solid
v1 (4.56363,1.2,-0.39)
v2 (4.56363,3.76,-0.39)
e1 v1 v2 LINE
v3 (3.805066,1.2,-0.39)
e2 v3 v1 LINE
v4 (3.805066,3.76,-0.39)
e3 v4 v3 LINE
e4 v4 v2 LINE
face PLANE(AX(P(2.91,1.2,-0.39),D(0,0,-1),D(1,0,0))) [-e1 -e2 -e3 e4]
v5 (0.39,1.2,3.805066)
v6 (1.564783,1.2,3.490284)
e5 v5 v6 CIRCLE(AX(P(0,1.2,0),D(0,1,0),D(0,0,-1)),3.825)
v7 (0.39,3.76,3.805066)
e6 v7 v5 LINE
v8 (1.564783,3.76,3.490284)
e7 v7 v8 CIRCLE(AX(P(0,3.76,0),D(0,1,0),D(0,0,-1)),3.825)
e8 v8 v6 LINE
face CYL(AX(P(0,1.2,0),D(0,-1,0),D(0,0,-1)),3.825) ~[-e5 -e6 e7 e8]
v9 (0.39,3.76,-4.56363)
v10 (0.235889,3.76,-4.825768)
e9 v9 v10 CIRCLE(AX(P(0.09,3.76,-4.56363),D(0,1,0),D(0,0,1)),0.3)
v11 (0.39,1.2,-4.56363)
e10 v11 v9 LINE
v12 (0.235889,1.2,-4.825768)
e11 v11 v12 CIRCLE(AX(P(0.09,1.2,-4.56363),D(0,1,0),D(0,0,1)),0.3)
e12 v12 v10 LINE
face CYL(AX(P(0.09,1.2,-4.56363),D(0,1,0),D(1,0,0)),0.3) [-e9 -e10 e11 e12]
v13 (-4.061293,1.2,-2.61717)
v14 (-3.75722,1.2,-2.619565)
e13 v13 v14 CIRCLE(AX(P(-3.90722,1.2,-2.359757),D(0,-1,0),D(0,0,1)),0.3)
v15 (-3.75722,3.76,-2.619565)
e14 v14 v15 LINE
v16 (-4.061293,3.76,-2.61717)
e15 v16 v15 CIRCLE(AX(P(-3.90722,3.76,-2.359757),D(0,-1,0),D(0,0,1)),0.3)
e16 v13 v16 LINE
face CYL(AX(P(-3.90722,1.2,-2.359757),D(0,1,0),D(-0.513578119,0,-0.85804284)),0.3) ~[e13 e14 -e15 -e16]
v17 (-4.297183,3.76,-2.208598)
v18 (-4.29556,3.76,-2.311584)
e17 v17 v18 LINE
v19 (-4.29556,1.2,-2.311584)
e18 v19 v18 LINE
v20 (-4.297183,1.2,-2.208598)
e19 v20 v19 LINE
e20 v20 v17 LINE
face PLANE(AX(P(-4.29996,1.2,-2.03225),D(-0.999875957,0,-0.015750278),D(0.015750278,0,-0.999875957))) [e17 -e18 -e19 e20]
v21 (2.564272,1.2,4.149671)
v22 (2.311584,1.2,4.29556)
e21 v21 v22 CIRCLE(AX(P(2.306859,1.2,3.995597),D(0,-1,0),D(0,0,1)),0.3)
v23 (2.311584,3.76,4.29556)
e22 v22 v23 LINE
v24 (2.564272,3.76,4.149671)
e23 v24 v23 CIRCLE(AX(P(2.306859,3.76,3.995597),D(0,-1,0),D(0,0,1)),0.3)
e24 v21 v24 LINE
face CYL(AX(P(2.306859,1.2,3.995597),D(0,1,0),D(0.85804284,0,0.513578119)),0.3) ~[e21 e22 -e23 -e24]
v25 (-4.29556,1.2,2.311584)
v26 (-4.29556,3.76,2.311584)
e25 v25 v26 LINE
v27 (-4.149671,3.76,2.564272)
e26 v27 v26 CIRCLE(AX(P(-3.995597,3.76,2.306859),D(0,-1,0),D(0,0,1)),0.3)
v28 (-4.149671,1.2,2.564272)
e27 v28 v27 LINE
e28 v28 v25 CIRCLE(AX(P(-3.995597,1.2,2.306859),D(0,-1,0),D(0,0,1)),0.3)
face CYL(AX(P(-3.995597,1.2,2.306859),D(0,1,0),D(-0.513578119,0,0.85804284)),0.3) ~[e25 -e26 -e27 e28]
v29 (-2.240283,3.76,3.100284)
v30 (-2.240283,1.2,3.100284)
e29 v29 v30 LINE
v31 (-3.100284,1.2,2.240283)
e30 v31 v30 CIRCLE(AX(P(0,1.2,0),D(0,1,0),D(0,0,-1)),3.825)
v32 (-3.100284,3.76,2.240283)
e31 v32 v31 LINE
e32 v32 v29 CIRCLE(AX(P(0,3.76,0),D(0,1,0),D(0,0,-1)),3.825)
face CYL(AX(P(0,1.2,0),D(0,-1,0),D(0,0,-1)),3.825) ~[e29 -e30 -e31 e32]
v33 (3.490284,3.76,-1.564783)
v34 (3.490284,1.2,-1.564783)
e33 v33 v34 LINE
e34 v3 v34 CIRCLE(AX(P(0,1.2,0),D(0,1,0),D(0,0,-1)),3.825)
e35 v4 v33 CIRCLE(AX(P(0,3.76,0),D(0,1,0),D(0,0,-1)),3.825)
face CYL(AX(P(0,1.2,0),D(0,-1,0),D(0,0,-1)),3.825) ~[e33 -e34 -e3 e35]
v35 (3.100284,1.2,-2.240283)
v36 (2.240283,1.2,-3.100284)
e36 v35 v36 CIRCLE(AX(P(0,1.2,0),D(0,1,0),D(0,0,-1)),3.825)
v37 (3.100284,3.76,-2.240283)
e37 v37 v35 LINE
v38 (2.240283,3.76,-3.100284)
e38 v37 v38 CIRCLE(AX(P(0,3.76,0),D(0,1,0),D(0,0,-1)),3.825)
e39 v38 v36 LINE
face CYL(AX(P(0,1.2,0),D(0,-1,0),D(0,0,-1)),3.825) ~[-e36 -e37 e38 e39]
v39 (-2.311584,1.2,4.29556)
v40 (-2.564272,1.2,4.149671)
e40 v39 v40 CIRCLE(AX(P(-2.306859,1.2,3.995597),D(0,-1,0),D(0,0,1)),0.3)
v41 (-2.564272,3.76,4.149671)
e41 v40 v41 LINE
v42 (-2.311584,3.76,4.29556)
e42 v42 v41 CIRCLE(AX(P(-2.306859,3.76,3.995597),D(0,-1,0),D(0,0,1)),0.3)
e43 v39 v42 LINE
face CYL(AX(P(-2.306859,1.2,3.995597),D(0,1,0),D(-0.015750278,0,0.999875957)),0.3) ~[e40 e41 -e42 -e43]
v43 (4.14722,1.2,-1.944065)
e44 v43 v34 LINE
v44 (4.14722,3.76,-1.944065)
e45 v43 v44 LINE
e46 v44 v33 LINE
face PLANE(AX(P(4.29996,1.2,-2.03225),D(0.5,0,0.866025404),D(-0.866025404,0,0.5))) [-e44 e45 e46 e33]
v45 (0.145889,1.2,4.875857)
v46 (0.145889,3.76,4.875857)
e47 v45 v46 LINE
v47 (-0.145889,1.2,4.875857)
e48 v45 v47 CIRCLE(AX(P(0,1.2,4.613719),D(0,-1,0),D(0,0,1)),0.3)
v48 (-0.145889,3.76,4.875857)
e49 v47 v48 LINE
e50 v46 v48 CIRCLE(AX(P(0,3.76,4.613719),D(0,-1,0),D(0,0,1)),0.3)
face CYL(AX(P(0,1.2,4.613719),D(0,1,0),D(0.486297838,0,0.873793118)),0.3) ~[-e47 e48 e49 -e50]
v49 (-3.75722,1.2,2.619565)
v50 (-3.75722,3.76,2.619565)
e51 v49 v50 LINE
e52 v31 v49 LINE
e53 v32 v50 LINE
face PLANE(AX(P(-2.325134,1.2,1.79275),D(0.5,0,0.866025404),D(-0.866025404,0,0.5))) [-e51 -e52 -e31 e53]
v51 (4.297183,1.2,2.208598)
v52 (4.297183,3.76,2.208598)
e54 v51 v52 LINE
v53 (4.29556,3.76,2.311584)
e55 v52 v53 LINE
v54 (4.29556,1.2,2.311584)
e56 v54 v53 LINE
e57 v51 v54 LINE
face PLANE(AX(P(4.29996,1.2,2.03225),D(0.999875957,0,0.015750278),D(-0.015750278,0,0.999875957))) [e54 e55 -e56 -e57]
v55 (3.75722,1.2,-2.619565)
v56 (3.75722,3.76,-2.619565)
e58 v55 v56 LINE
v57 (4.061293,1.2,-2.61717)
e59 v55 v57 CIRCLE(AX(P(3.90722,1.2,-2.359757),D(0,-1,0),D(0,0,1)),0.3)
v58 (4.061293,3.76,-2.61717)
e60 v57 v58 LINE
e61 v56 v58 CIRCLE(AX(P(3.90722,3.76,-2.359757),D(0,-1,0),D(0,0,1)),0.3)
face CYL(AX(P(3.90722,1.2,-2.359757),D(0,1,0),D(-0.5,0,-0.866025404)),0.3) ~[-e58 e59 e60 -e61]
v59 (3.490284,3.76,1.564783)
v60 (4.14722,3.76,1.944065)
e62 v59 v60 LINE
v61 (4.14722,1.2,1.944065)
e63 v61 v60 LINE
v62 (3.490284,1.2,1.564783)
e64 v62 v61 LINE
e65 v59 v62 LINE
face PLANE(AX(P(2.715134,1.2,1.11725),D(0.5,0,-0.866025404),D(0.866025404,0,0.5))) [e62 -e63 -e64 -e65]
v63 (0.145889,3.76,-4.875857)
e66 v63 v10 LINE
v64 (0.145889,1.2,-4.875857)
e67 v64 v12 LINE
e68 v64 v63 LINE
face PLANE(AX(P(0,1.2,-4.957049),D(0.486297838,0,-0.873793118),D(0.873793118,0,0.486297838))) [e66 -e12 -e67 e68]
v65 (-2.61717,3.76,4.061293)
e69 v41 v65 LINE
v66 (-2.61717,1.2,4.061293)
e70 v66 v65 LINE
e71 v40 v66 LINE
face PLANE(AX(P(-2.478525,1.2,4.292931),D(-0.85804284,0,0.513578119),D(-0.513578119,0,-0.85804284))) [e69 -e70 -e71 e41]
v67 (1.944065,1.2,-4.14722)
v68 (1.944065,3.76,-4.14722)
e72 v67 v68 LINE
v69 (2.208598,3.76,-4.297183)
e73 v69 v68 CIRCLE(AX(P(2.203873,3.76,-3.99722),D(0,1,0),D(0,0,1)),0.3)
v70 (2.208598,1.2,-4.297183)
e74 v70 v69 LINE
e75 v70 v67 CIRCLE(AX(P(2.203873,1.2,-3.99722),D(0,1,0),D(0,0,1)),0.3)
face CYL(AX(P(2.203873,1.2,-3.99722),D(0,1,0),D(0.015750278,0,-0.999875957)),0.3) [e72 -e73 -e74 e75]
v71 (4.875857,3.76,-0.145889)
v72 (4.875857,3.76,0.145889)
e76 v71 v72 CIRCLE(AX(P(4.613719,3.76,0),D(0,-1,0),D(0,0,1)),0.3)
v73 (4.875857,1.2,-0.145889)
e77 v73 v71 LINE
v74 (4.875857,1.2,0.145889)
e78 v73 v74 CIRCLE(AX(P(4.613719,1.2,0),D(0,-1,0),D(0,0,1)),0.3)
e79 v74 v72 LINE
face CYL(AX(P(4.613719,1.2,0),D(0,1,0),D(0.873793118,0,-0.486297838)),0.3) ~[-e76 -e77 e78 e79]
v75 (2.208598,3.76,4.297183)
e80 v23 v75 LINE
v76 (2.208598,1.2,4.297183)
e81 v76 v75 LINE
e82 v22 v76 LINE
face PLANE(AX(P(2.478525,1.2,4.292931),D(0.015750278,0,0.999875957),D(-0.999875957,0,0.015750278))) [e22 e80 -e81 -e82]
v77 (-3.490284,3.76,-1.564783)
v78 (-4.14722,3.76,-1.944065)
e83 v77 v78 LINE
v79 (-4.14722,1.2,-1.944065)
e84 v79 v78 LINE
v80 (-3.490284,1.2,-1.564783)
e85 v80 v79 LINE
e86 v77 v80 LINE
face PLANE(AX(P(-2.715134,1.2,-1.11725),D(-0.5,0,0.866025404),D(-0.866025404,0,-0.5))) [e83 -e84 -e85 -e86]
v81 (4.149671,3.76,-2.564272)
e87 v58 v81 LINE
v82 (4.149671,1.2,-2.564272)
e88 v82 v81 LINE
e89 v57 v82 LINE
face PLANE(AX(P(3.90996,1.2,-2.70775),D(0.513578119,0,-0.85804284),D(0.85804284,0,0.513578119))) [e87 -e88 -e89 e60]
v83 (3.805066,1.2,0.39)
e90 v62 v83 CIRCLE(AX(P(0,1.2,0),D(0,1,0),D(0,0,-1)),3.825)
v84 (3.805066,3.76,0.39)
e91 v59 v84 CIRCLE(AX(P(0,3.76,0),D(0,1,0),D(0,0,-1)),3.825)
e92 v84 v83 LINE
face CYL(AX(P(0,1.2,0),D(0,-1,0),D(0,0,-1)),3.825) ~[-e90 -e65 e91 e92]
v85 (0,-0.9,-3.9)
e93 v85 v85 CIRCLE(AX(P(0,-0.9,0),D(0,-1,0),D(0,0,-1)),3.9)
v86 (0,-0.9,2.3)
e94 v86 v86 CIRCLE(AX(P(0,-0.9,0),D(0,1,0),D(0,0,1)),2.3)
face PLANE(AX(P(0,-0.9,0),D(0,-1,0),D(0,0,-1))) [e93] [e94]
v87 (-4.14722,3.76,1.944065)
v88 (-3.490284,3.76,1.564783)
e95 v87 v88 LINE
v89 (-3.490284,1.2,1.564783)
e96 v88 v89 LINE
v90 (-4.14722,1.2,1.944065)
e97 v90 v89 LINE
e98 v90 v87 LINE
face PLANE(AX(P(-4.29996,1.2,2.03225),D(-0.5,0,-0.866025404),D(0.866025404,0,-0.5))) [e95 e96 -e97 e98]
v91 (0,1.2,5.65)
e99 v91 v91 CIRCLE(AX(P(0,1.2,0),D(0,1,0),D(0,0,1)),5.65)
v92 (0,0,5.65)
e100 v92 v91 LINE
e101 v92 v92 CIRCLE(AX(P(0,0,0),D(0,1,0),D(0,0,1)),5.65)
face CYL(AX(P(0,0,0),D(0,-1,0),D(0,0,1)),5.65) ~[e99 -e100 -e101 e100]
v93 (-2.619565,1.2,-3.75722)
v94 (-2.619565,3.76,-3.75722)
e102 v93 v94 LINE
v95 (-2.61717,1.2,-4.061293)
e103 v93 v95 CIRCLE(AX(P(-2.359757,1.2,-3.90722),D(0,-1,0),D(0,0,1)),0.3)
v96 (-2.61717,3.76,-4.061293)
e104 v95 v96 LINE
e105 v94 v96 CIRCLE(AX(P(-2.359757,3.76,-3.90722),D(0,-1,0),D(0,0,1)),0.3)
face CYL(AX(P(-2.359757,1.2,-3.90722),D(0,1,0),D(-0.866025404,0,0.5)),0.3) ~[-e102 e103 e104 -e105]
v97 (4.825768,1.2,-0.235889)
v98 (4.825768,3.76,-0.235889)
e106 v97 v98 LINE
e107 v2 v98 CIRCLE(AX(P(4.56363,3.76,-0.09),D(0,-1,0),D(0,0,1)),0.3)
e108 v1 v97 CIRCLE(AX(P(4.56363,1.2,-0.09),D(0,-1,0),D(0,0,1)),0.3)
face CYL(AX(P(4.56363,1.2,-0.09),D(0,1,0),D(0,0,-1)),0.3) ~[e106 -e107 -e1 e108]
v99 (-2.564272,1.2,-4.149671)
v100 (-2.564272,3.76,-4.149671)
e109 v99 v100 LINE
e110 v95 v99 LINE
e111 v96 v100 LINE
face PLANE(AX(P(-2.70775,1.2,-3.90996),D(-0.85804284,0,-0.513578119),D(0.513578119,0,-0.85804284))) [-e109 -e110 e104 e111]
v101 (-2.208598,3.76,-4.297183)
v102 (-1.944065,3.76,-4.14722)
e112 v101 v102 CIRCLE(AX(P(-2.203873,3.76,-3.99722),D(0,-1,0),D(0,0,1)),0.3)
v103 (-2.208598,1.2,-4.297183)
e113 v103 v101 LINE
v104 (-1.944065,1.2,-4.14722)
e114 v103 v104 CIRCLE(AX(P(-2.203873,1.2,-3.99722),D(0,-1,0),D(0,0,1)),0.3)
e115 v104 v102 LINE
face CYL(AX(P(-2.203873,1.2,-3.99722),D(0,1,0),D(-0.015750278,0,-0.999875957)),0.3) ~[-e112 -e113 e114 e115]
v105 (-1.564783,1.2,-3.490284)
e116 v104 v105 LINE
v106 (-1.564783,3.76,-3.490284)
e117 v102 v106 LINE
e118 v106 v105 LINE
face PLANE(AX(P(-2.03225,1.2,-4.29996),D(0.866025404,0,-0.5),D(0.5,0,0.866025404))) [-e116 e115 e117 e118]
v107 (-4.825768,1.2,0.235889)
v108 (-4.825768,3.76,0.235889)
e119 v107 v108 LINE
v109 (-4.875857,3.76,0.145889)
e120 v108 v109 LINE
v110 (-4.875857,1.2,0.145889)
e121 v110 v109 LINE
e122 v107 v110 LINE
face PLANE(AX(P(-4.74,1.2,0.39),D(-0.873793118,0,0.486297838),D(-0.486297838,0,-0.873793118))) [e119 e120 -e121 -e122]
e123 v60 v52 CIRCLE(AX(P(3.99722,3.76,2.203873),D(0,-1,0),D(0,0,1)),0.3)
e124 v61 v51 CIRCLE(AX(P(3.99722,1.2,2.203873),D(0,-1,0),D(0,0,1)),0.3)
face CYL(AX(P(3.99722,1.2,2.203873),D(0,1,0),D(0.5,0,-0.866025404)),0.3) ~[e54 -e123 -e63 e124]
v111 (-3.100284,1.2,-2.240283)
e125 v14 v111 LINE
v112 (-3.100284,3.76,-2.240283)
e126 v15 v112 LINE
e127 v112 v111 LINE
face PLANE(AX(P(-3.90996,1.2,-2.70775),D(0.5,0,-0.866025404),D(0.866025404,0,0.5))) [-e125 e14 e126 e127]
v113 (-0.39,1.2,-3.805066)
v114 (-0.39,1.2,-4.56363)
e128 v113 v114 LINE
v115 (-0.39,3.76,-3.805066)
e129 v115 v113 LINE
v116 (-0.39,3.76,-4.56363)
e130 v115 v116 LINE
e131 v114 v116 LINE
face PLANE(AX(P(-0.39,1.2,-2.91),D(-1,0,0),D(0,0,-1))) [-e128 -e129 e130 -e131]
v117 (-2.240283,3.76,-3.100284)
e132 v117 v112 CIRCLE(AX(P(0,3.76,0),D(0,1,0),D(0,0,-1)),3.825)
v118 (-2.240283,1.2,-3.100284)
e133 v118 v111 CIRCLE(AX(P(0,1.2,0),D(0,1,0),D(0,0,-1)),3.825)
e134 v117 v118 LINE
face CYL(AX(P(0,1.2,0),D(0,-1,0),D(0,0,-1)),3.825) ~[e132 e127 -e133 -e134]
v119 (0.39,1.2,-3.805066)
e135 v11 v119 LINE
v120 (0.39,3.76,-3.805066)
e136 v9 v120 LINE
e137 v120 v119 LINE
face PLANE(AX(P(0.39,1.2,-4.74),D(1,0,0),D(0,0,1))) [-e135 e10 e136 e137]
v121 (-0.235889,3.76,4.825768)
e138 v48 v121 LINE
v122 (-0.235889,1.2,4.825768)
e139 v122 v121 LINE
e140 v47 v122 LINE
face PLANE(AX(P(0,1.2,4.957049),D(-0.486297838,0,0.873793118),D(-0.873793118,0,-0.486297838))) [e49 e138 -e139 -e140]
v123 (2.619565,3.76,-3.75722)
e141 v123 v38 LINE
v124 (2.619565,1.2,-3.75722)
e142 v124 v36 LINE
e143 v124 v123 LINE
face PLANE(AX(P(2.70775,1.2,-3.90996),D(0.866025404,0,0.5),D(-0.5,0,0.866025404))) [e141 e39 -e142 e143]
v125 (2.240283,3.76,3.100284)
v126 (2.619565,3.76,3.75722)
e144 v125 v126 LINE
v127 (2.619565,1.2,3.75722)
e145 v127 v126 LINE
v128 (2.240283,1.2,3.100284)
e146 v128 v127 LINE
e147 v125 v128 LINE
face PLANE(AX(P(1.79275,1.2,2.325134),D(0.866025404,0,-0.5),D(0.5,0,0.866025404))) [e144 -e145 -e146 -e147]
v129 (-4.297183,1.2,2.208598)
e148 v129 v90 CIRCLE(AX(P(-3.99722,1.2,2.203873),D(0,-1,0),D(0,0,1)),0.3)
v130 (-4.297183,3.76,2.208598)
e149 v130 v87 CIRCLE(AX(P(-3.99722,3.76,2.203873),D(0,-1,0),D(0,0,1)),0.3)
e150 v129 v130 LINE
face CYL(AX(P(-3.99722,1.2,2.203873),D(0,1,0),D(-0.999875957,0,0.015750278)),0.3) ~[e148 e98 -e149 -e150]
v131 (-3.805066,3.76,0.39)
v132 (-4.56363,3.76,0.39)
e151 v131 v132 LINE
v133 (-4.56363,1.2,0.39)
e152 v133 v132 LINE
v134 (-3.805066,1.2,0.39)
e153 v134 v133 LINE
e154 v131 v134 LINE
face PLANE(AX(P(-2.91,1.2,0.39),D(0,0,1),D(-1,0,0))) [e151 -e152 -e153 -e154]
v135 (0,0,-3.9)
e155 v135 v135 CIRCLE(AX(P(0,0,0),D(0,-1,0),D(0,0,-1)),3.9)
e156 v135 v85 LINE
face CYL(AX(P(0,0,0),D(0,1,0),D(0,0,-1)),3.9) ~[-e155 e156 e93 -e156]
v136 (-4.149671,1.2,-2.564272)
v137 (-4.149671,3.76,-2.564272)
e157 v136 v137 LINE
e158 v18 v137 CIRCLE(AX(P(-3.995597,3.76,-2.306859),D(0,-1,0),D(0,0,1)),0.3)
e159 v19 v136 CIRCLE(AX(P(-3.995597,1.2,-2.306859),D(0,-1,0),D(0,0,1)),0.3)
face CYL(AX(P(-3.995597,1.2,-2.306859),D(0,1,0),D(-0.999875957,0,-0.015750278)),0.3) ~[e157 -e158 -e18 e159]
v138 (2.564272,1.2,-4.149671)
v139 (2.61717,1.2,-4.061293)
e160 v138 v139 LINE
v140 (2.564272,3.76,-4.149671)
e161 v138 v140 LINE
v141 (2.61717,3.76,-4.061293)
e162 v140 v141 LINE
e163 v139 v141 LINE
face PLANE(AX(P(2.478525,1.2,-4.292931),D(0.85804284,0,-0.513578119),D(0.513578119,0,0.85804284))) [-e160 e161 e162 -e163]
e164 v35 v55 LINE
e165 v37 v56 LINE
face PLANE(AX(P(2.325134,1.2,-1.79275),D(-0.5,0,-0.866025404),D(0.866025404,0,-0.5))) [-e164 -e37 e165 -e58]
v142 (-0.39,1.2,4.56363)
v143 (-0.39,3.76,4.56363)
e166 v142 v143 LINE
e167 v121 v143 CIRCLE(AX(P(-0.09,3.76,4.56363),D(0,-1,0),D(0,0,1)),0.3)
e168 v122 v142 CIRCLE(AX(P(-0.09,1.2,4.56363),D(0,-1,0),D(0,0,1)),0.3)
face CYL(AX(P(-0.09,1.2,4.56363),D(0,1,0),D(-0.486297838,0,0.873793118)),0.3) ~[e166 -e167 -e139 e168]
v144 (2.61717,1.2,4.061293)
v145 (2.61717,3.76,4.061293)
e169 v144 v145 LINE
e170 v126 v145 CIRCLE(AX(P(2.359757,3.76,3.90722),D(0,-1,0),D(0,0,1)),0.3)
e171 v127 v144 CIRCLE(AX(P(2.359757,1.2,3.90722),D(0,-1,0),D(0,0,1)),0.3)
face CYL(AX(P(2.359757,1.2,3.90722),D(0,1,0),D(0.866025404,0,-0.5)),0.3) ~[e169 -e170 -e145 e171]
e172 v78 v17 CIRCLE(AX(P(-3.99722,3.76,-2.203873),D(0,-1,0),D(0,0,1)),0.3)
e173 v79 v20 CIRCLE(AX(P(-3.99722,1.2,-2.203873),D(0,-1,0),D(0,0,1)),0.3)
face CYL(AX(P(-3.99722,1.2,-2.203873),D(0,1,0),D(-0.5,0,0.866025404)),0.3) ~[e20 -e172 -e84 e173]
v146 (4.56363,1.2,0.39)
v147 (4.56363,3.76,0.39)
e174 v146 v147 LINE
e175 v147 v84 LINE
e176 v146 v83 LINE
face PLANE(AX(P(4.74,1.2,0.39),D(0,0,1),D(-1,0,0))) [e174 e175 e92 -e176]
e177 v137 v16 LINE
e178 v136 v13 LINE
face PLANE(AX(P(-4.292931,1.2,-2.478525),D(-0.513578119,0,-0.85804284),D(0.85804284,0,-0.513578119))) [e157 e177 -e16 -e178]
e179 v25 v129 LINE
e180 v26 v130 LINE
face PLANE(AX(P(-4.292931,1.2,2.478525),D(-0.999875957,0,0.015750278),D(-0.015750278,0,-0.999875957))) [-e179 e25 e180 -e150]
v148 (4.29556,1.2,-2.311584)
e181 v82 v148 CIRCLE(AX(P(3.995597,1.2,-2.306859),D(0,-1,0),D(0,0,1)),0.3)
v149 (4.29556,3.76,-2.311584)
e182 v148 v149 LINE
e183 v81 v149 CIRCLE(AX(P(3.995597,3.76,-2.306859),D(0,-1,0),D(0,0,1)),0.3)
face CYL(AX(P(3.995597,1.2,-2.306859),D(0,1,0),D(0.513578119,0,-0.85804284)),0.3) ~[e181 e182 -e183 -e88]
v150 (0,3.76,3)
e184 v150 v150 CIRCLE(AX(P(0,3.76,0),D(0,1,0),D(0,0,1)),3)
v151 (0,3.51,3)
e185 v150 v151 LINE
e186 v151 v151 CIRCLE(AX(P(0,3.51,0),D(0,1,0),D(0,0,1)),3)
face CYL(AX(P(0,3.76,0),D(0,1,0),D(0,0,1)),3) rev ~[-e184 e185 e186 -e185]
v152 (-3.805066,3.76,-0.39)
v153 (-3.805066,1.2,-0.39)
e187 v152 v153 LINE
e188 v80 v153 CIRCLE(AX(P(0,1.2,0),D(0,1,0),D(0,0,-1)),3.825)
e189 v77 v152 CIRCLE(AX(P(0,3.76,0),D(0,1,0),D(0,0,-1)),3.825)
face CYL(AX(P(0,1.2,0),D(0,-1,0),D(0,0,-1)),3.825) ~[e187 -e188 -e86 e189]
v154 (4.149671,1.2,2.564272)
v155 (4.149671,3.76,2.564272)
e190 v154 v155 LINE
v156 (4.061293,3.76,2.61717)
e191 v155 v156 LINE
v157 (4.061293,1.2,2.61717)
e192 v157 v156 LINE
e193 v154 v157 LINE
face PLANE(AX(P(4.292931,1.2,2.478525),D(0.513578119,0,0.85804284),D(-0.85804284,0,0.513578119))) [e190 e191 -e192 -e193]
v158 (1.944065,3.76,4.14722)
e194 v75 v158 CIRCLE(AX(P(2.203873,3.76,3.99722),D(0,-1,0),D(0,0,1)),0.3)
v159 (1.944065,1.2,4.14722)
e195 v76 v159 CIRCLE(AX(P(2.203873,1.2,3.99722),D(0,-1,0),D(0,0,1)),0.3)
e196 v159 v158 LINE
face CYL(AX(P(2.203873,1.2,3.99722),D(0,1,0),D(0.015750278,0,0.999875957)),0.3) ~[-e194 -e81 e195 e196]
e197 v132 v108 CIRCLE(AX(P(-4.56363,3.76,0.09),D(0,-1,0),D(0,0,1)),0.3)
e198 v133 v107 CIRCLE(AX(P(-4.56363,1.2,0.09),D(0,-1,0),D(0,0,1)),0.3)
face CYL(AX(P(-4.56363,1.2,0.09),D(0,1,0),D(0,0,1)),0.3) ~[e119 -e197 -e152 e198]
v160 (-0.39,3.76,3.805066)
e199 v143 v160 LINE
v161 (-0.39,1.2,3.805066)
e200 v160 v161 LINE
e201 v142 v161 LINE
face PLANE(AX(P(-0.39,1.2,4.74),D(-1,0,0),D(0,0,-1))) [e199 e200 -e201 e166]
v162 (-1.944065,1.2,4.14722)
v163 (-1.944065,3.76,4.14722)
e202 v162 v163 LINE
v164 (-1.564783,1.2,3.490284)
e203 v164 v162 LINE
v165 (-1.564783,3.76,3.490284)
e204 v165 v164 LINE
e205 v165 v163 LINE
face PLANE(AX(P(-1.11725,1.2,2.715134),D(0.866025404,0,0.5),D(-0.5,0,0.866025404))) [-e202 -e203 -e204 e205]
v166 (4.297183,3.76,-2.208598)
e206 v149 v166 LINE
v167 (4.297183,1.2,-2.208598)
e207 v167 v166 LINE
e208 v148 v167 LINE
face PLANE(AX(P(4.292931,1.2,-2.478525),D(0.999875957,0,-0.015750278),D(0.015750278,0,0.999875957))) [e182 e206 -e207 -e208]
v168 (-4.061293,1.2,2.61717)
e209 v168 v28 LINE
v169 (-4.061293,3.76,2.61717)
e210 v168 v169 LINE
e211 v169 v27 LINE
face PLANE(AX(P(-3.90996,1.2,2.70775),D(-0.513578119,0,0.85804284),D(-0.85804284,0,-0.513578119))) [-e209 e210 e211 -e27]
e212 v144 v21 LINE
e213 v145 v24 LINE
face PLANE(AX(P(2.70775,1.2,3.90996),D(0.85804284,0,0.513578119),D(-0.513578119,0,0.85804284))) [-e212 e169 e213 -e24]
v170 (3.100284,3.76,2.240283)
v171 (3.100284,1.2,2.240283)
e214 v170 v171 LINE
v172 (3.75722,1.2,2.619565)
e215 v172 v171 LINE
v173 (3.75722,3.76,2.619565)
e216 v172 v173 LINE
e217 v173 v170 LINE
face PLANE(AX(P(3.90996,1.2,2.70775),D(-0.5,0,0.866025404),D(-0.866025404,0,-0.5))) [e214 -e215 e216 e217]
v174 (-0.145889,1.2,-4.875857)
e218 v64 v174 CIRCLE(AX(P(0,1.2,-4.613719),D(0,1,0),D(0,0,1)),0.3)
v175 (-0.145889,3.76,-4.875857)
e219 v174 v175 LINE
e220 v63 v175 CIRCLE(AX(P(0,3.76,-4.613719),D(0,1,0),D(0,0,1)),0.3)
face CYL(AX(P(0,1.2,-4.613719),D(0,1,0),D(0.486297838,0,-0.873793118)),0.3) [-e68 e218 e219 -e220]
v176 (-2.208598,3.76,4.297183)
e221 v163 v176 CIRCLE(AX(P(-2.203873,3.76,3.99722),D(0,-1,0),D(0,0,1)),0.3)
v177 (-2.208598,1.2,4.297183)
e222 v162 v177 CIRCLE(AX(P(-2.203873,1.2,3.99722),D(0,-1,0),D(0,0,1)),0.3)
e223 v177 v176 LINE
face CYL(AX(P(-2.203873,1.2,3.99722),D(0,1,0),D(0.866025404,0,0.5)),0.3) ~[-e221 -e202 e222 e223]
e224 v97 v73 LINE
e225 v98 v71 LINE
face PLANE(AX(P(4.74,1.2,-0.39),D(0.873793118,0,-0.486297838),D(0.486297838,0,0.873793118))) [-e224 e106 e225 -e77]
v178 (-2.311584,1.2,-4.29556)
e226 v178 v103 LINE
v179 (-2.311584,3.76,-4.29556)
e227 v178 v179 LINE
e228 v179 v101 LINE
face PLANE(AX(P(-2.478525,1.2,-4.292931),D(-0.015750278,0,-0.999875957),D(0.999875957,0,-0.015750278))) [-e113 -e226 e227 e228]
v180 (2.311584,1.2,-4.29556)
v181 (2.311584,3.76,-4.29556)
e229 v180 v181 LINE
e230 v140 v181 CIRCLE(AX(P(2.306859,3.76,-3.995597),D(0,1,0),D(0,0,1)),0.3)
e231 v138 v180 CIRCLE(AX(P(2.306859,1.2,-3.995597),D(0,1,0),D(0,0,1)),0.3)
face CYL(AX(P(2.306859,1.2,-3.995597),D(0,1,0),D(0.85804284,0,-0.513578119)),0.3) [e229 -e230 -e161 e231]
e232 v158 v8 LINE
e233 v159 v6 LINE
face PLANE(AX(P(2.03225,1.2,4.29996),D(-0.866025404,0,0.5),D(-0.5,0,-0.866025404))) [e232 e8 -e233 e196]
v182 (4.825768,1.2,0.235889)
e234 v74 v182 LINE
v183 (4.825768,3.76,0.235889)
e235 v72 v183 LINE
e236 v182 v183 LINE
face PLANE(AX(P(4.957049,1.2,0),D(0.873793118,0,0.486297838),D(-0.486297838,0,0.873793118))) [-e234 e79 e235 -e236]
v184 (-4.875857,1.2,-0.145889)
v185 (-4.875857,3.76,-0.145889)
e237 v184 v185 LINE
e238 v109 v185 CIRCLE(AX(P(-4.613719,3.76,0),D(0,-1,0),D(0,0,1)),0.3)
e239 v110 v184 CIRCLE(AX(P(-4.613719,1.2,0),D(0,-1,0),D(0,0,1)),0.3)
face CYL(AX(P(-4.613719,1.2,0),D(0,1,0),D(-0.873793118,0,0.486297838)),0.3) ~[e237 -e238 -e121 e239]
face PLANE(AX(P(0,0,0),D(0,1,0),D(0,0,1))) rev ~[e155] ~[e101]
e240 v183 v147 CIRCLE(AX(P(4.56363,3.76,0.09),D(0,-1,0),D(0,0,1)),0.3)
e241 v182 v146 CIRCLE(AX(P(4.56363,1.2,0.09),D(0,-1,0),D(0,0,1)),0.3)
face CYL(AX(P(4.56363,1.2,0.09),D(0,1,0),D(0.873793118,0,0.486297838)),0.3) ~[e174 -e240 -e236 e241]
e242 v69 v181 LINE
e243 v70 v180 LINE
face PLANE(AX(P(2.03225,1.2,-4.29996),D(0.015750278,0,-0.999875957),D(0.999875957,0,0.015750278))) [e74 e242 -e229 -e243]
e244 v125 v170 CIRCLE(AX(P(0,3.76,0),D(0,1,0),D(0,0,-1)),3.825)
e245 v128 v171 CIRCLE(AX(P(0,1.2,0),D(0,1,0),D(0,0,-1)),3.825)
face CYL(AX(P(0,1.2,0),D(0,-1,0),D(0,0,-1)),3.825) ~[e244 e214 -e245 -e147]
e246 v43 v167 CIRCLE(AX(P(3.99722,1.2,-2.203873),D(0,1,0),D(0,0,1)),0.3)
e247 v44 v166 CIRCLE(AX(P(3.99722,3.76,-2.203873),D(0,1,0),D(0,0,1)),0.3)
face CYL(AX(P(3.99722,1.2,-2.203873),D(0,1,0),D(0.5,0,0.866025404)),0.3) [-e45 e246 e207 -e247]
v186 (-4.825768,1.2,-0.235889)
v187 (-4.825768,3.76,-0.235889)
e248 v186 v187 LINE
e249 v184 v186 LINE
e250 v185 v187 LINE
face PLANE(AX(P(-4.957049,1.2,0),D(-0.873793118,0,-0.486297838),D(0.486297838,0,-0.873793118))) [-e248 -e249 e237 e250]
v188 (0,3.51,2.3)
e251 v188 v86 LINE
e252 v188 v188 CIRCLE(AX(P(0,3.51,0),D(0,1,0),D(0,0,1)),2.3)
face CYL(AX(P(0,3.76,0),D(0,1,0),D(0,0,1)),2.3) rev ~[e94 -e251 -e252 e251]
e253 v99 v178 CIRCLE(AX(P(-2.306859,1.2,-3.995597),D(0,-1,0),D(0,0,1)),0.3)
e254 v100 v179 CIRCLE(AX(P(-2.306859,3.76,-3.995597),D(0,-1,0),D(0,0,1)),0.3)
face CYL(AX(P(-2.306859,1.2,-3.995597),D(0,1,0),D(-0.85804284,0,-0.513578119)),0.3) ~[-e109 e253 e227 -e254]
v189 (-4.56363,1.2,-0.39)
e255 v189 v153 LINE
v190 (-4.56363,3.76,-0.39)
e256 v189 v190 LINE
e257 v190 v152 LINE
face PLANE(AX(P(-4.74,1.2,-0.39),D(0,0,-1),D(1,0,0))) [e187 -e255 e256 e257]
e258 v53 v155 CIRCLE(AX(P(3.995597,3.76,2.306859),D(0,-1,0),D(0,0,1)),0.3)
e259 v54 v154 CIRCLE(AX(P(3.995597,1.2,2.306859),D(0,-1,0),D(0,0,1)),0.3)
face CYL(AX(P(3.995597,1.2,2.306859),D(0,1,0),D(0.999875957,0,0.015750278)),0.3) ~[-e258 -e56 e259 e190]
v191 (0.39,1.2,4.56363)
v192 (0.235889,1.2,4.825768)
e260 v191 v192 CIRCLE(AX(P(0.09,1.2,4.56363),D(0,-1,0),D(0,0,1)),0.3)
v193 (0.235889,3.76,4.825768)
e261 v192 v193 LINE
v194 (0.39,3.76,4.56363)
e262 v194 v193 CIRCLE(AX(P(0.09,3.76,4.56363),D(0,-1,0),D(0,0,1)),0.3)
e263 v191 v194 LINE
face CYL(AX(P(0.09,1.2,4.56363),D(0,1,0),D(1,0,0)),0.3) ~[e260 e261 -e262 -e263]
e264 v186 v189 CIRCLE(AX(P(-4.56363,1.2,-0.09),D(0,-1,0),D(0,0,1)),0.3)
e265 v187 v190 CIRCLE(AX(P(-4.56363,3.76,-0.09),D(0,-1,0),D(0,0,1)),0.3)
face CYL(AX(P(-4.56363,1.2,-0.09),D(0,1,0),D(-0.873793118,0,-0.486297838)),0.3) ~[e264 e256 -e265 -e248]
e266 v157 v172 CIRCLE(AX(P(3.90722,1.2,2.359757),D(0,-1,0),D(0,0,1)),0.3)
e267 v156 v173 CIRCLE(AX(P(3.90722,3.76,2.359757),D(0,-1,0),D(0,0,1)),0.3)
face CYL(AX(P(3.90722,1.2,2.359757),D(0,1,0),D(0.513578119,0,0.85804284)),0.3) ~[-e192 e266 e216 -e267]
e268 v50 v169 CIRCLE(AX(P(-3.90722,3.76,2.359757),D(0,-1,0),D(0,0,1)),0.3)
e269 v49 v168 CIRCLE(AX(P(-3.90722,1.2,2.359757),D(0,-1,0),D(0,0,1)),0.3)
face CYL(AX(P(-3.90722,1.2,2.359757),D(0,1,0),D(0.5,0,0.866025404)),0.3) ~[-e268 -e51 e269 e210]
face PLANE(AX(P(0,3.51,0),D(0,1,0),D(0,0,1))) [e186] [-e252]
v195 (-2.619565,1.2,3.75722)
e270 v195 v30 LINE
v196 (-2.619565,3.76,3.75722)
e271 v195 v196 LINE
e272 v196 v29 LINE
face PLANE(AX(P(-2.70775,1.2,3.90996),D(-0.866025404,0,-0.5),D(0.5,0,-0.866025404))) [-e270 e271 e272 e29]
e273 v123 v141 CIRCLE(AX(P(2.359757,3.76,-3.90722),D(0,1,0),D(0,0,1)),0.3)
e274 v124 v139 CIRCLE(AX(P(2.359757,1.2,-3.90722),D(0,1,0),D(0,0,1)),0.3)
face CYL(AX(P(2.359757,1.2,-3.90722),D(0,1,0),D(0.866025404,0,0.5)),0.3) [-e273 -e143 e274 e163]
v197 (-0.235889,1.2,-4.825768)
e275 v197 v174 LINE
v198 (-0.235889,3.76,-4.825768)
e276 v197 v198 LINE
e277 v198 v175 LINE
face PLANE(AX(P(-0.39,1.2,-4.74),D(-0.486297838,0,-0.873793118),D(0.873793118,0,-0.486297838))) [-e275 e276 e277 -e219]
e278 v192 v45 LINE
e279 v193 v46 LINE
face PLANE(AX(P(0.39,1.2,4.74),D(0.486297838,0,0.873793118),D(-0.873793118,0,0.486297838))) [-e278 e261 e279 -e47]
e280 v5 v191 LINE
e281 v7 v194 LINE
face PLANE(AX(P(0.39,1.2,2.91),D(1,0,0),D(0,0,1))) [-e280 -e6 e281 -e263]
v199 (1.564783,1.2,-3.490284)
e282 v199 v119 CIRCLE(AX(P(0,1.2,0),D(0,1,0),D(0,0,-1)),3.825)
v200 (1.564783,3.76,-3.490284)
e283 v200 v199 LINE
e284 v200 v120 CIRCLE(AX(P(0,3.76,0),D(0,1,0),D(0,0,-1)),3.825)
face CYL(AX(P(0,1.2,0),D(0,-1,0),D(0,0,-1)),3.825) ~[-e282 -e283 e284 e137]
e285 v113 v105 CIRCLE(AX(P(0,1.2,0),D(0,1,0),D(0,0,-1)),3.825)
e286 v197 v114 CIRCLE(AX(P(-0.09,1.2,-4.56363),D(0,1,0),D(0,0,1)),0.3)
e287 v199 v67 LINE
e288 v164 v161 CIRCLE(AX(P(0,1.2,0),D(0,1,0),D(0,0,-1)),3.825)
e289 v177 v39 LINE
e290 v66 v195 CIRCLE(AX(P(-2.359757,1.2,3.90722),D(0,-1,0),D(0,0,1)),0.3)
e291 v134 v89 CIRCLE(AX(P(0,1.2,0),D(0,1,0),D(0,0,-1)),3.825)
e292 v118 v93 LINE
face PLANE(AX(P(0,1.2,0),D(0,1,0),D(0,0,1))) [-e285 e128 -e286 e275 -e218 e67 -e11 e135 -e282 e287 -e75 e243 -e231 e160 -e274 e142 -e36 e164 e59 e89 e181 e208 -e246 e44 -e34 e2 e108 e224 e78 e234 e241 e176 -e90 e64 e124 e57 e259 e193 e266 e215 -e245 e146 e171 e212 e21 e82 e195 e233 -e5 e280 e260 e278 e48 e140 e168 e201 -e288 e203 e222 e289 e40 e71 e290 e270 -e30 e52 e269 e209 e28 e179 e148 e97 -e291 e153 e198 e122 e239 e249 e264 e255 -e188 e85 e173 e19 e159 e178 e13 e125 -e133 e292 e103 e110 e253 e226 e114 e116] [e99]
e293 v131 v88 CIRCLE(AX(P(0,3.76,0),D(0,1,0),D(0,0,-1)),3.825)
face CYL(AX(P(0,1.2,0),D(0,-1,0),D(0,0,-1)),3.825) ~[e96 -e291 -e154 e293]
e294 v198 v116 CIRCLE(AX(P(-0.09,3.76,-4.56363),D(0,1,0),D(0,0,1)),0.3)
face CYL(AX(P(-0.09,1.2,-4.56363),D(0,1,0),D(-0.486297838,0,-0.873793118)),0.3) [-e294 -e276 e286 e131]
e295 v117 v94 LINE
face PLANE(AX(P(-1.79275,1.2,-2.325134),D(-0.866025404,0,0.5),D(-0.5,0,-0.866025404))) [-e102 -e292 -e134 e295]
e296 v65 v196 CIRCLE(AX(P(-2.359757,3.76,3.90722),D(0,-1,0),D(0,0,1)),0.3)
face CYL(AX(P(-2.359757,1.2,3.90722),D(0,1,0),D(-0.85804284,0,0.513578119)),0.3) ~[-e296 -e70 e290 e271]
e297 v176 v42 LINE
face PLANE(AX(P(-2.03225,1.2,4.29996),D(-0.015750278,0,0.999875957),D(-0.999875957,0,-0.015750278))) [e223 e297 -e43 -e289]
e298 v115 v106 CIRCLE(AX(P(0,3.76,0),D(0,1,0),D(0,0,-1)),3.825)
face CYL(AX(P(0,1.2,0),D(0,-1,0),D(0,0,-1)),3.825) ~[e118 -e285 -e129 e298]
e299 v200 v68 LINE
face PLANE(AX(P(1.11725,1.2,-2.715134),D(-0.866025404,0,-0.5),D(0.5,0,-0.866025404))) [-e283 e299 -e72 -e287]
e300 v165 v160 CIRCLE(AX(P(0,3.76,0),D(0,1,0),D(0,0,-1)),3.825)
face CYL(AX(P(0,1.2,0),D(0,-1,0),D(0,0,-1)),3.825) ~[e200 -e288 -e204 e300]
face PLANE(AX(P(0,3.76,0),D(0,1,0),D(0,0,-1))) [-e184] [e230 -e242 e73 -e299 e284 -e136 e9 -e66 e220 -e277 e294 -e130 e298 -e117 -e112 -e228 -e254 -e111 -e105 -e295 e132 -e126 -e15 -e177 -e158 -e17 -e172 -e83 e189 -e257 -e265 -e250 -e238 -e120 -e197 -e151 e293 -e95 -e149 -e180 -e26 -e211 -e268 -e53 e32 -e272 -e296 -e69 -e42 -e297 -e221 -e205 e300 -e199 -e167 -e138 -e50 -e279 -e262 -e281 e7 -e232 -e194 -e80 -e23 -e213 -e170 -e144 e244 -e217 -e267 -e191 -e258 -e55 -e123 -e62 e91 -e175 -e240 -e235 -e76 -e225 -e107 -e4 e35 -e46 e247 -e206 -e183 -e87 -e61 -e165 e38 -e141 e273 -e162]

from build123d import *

# Parameters (mm, degrees)
SKETCH2_R                 = 5.65
BOSS_EXTRUDE1_DEPTH       = 1.2
SKETCH3_R                 = 3.825
BOSS_EXTRUDE2_DEPTH       = 2.56
SKETCH5_R                 = 3.9
BOSS_EXTRUDE4_DEPTH       = 0.9
BOSS_EXTRUDE5_DEPTH       = 2.56
FILLET12_R                = 0.3
CIRPATTERN3_COUNT         = 12
FILLET12_OF_CIRPATTERN3_R = 0.3
SKETCH10_R                = 2.3
CUT_EXTRUDE3_DEPTH        = 10.249897297
SKETCH11_R                = 3
CUT_EXTRUDE4_DEPTH        = 0.25


with BuildPart() as part:
    # Sketch2 → Boss-Extrude1 (new body)
    with BuildSketch(Plane(origin=(0, 0, 0), x_dir=(1, 0, 0), z_dir=(0, 1, 0))):
        with Locations(Location((0, 0, 0), (0, 0, 270))):
            Circle(SKETCH2_R)
    extrude(amount=BOSS_EXTRUDE1_DEPTH)

    # Sketch3 → Boss-Extrude2 (add)
    with BuildSketch(Plane(origin=(0, 1.2, 0), x_dir=(1, 0, 0), z_dir=(0, 1, 0))):
        with Locations(Location((0, 0, 0), (0, 0, 90))):
            Circle(SKETCH3_R)
    extrude(amount=BOSS_EXTRUDE2_DEPTH)

    # Sketch5 → Boss-Extrude4 (add)
    with BuildSketch(Plane.XZ):
        with Locations(Location((0, 0, 0), (0, 0, 270))):
            Circle(SKETCH5_R)
    extrude(amount=BOSS_EXTRUDE4_DEPTH)

    # Sketch9 → Boss-Extrude5 (add)
    with BuildSketch(Plane(origin=(0, 1.2, 0), x_dir=(1, 0, 0), z_dir=(0, 1, 0))):
        Polygon((0.39, 2.91), (-0.39, 2.91), (-0.39, 4.74), (0, 4.957049268), (0.39, 4.74), align=None)
    boss_extrude5 = extrude(amount=BOSS_EXTRUDE5_DEPTH)

    # Fillet12
    fillet12_edges = [part.edges().sort_by_distance(p)[0] for p in [
        (-0.39, 2.48, -4.74),
        (0, 2.48, -4.957049268),
        (0.39, 2.48, -4.74),
    ]]
    fillet(fillet12_edges, radius=FILLET12_R)

    # CirPattern3: Boss-Extrude5 ×12 about axis
    cirpattern3_axis = Axis((0, 0, 0), (0, 1, 0))
    for i in range(1, CIRPATTERN3_COUNT):
        add(boss_extrude5.rotate(cirpattern3_axis, i * 360 / CIRPATTERN3_COUNT))

    # Fillet12 of CirPattern3
    fillet12_of_cirpattern3_edges = [part.edges().sort_by_distance(p)[0] for p in [
        (-2.707749907, 2.48, -3.909960414),
        (-2.478524634, 2.48, -4.292930594),
        (-2.032250093, 2.48, -4.299960414),
        (-4.299960414, 2.48, -2.032250093),
        (-4.292930594, 2.48, -2.478524634),
        (-3.909960414, 2.48, -2.707749907),
        (-4.74, 2.48, 0.39),
        (-4.957049268, 2.48, 0),
        (-4.74, 2.48, -0.39),
        (-3.909960414, 2.48, 2.707749907),
        (-4.292930594, 2.48, 2.478524634),
        (-4.299960414, 2.48, 2.032250093),
        (-2.032250093, 2.48, 4.299960414),
        (-2.478524634, 2.48, 4.292930594),
        (-2.707749907, 2.48, 3.909960414),
        (0.39, 2.48, 4.74),
        (0, 2.48, 4.957049268),
        (-0.39, 2.48, 4.74),
        (2.707749907, 2.48, 3.909960414),
        (2.478524634, 2.48, 4.292930594),
        (2.032250093, 2.48, 4.299960414),
        (4.299960414, 2.48, 2.032250093),
        (4.292930594, 2.48, 2.478524634),
        (3.909960414, 2.48, 2.707749907),
        (4.74, 2.48, -0.39),
        (4.957049268, 2.48, 0),
        (4.74, 2.48, 0.39),
        (3.909960414, 2.48, -2.707749907),
        (4.292930594, 2.48, -2.478524634),
        (4.299960414, 2.48, -2.032250093),
        (2.032250093, 2.48, -4.299960414),
        (2.478524634, 2.48, -4.292930594),
        (2.707749907, 2.48, -3.909960414),
    ]]
    fillet(fillet12_of_cirpattern3_edges, radius=FILLET12_OF_CIRPATTERN3_R)

    # Sketch10 → Cut-Extrude3 (cut, through all)
    with BuildSketch(Plane(origin=(0, 3.76, 0), x_dir=(1, 0, 0), z_dir=(0, 1, 0))):
        with Locations(Location((0, 0, 0), (0, 0, 270))):
            Circle(SKETCH10_R)
    extrude(amount=-CUT_EXTRUDE3_DEPTH, mode=Mode.SUBTRACT)

    # Sketch11 → Cut-Extrude4 (cut)
    with BuildSketch(Plane(origin=(0, 3.76, 0), x_dir=(1, 0, 0), z_dir=(0, 1, 0))):
        with Locations(Location((0, 0, 0), (0, 0, 270))):
            Circle(SKETCH11_R)
    extrude(amount=-CUT_EXTRUDE4_DEPTH, mode=Mode.SUBTRACT)


solid = part.part
